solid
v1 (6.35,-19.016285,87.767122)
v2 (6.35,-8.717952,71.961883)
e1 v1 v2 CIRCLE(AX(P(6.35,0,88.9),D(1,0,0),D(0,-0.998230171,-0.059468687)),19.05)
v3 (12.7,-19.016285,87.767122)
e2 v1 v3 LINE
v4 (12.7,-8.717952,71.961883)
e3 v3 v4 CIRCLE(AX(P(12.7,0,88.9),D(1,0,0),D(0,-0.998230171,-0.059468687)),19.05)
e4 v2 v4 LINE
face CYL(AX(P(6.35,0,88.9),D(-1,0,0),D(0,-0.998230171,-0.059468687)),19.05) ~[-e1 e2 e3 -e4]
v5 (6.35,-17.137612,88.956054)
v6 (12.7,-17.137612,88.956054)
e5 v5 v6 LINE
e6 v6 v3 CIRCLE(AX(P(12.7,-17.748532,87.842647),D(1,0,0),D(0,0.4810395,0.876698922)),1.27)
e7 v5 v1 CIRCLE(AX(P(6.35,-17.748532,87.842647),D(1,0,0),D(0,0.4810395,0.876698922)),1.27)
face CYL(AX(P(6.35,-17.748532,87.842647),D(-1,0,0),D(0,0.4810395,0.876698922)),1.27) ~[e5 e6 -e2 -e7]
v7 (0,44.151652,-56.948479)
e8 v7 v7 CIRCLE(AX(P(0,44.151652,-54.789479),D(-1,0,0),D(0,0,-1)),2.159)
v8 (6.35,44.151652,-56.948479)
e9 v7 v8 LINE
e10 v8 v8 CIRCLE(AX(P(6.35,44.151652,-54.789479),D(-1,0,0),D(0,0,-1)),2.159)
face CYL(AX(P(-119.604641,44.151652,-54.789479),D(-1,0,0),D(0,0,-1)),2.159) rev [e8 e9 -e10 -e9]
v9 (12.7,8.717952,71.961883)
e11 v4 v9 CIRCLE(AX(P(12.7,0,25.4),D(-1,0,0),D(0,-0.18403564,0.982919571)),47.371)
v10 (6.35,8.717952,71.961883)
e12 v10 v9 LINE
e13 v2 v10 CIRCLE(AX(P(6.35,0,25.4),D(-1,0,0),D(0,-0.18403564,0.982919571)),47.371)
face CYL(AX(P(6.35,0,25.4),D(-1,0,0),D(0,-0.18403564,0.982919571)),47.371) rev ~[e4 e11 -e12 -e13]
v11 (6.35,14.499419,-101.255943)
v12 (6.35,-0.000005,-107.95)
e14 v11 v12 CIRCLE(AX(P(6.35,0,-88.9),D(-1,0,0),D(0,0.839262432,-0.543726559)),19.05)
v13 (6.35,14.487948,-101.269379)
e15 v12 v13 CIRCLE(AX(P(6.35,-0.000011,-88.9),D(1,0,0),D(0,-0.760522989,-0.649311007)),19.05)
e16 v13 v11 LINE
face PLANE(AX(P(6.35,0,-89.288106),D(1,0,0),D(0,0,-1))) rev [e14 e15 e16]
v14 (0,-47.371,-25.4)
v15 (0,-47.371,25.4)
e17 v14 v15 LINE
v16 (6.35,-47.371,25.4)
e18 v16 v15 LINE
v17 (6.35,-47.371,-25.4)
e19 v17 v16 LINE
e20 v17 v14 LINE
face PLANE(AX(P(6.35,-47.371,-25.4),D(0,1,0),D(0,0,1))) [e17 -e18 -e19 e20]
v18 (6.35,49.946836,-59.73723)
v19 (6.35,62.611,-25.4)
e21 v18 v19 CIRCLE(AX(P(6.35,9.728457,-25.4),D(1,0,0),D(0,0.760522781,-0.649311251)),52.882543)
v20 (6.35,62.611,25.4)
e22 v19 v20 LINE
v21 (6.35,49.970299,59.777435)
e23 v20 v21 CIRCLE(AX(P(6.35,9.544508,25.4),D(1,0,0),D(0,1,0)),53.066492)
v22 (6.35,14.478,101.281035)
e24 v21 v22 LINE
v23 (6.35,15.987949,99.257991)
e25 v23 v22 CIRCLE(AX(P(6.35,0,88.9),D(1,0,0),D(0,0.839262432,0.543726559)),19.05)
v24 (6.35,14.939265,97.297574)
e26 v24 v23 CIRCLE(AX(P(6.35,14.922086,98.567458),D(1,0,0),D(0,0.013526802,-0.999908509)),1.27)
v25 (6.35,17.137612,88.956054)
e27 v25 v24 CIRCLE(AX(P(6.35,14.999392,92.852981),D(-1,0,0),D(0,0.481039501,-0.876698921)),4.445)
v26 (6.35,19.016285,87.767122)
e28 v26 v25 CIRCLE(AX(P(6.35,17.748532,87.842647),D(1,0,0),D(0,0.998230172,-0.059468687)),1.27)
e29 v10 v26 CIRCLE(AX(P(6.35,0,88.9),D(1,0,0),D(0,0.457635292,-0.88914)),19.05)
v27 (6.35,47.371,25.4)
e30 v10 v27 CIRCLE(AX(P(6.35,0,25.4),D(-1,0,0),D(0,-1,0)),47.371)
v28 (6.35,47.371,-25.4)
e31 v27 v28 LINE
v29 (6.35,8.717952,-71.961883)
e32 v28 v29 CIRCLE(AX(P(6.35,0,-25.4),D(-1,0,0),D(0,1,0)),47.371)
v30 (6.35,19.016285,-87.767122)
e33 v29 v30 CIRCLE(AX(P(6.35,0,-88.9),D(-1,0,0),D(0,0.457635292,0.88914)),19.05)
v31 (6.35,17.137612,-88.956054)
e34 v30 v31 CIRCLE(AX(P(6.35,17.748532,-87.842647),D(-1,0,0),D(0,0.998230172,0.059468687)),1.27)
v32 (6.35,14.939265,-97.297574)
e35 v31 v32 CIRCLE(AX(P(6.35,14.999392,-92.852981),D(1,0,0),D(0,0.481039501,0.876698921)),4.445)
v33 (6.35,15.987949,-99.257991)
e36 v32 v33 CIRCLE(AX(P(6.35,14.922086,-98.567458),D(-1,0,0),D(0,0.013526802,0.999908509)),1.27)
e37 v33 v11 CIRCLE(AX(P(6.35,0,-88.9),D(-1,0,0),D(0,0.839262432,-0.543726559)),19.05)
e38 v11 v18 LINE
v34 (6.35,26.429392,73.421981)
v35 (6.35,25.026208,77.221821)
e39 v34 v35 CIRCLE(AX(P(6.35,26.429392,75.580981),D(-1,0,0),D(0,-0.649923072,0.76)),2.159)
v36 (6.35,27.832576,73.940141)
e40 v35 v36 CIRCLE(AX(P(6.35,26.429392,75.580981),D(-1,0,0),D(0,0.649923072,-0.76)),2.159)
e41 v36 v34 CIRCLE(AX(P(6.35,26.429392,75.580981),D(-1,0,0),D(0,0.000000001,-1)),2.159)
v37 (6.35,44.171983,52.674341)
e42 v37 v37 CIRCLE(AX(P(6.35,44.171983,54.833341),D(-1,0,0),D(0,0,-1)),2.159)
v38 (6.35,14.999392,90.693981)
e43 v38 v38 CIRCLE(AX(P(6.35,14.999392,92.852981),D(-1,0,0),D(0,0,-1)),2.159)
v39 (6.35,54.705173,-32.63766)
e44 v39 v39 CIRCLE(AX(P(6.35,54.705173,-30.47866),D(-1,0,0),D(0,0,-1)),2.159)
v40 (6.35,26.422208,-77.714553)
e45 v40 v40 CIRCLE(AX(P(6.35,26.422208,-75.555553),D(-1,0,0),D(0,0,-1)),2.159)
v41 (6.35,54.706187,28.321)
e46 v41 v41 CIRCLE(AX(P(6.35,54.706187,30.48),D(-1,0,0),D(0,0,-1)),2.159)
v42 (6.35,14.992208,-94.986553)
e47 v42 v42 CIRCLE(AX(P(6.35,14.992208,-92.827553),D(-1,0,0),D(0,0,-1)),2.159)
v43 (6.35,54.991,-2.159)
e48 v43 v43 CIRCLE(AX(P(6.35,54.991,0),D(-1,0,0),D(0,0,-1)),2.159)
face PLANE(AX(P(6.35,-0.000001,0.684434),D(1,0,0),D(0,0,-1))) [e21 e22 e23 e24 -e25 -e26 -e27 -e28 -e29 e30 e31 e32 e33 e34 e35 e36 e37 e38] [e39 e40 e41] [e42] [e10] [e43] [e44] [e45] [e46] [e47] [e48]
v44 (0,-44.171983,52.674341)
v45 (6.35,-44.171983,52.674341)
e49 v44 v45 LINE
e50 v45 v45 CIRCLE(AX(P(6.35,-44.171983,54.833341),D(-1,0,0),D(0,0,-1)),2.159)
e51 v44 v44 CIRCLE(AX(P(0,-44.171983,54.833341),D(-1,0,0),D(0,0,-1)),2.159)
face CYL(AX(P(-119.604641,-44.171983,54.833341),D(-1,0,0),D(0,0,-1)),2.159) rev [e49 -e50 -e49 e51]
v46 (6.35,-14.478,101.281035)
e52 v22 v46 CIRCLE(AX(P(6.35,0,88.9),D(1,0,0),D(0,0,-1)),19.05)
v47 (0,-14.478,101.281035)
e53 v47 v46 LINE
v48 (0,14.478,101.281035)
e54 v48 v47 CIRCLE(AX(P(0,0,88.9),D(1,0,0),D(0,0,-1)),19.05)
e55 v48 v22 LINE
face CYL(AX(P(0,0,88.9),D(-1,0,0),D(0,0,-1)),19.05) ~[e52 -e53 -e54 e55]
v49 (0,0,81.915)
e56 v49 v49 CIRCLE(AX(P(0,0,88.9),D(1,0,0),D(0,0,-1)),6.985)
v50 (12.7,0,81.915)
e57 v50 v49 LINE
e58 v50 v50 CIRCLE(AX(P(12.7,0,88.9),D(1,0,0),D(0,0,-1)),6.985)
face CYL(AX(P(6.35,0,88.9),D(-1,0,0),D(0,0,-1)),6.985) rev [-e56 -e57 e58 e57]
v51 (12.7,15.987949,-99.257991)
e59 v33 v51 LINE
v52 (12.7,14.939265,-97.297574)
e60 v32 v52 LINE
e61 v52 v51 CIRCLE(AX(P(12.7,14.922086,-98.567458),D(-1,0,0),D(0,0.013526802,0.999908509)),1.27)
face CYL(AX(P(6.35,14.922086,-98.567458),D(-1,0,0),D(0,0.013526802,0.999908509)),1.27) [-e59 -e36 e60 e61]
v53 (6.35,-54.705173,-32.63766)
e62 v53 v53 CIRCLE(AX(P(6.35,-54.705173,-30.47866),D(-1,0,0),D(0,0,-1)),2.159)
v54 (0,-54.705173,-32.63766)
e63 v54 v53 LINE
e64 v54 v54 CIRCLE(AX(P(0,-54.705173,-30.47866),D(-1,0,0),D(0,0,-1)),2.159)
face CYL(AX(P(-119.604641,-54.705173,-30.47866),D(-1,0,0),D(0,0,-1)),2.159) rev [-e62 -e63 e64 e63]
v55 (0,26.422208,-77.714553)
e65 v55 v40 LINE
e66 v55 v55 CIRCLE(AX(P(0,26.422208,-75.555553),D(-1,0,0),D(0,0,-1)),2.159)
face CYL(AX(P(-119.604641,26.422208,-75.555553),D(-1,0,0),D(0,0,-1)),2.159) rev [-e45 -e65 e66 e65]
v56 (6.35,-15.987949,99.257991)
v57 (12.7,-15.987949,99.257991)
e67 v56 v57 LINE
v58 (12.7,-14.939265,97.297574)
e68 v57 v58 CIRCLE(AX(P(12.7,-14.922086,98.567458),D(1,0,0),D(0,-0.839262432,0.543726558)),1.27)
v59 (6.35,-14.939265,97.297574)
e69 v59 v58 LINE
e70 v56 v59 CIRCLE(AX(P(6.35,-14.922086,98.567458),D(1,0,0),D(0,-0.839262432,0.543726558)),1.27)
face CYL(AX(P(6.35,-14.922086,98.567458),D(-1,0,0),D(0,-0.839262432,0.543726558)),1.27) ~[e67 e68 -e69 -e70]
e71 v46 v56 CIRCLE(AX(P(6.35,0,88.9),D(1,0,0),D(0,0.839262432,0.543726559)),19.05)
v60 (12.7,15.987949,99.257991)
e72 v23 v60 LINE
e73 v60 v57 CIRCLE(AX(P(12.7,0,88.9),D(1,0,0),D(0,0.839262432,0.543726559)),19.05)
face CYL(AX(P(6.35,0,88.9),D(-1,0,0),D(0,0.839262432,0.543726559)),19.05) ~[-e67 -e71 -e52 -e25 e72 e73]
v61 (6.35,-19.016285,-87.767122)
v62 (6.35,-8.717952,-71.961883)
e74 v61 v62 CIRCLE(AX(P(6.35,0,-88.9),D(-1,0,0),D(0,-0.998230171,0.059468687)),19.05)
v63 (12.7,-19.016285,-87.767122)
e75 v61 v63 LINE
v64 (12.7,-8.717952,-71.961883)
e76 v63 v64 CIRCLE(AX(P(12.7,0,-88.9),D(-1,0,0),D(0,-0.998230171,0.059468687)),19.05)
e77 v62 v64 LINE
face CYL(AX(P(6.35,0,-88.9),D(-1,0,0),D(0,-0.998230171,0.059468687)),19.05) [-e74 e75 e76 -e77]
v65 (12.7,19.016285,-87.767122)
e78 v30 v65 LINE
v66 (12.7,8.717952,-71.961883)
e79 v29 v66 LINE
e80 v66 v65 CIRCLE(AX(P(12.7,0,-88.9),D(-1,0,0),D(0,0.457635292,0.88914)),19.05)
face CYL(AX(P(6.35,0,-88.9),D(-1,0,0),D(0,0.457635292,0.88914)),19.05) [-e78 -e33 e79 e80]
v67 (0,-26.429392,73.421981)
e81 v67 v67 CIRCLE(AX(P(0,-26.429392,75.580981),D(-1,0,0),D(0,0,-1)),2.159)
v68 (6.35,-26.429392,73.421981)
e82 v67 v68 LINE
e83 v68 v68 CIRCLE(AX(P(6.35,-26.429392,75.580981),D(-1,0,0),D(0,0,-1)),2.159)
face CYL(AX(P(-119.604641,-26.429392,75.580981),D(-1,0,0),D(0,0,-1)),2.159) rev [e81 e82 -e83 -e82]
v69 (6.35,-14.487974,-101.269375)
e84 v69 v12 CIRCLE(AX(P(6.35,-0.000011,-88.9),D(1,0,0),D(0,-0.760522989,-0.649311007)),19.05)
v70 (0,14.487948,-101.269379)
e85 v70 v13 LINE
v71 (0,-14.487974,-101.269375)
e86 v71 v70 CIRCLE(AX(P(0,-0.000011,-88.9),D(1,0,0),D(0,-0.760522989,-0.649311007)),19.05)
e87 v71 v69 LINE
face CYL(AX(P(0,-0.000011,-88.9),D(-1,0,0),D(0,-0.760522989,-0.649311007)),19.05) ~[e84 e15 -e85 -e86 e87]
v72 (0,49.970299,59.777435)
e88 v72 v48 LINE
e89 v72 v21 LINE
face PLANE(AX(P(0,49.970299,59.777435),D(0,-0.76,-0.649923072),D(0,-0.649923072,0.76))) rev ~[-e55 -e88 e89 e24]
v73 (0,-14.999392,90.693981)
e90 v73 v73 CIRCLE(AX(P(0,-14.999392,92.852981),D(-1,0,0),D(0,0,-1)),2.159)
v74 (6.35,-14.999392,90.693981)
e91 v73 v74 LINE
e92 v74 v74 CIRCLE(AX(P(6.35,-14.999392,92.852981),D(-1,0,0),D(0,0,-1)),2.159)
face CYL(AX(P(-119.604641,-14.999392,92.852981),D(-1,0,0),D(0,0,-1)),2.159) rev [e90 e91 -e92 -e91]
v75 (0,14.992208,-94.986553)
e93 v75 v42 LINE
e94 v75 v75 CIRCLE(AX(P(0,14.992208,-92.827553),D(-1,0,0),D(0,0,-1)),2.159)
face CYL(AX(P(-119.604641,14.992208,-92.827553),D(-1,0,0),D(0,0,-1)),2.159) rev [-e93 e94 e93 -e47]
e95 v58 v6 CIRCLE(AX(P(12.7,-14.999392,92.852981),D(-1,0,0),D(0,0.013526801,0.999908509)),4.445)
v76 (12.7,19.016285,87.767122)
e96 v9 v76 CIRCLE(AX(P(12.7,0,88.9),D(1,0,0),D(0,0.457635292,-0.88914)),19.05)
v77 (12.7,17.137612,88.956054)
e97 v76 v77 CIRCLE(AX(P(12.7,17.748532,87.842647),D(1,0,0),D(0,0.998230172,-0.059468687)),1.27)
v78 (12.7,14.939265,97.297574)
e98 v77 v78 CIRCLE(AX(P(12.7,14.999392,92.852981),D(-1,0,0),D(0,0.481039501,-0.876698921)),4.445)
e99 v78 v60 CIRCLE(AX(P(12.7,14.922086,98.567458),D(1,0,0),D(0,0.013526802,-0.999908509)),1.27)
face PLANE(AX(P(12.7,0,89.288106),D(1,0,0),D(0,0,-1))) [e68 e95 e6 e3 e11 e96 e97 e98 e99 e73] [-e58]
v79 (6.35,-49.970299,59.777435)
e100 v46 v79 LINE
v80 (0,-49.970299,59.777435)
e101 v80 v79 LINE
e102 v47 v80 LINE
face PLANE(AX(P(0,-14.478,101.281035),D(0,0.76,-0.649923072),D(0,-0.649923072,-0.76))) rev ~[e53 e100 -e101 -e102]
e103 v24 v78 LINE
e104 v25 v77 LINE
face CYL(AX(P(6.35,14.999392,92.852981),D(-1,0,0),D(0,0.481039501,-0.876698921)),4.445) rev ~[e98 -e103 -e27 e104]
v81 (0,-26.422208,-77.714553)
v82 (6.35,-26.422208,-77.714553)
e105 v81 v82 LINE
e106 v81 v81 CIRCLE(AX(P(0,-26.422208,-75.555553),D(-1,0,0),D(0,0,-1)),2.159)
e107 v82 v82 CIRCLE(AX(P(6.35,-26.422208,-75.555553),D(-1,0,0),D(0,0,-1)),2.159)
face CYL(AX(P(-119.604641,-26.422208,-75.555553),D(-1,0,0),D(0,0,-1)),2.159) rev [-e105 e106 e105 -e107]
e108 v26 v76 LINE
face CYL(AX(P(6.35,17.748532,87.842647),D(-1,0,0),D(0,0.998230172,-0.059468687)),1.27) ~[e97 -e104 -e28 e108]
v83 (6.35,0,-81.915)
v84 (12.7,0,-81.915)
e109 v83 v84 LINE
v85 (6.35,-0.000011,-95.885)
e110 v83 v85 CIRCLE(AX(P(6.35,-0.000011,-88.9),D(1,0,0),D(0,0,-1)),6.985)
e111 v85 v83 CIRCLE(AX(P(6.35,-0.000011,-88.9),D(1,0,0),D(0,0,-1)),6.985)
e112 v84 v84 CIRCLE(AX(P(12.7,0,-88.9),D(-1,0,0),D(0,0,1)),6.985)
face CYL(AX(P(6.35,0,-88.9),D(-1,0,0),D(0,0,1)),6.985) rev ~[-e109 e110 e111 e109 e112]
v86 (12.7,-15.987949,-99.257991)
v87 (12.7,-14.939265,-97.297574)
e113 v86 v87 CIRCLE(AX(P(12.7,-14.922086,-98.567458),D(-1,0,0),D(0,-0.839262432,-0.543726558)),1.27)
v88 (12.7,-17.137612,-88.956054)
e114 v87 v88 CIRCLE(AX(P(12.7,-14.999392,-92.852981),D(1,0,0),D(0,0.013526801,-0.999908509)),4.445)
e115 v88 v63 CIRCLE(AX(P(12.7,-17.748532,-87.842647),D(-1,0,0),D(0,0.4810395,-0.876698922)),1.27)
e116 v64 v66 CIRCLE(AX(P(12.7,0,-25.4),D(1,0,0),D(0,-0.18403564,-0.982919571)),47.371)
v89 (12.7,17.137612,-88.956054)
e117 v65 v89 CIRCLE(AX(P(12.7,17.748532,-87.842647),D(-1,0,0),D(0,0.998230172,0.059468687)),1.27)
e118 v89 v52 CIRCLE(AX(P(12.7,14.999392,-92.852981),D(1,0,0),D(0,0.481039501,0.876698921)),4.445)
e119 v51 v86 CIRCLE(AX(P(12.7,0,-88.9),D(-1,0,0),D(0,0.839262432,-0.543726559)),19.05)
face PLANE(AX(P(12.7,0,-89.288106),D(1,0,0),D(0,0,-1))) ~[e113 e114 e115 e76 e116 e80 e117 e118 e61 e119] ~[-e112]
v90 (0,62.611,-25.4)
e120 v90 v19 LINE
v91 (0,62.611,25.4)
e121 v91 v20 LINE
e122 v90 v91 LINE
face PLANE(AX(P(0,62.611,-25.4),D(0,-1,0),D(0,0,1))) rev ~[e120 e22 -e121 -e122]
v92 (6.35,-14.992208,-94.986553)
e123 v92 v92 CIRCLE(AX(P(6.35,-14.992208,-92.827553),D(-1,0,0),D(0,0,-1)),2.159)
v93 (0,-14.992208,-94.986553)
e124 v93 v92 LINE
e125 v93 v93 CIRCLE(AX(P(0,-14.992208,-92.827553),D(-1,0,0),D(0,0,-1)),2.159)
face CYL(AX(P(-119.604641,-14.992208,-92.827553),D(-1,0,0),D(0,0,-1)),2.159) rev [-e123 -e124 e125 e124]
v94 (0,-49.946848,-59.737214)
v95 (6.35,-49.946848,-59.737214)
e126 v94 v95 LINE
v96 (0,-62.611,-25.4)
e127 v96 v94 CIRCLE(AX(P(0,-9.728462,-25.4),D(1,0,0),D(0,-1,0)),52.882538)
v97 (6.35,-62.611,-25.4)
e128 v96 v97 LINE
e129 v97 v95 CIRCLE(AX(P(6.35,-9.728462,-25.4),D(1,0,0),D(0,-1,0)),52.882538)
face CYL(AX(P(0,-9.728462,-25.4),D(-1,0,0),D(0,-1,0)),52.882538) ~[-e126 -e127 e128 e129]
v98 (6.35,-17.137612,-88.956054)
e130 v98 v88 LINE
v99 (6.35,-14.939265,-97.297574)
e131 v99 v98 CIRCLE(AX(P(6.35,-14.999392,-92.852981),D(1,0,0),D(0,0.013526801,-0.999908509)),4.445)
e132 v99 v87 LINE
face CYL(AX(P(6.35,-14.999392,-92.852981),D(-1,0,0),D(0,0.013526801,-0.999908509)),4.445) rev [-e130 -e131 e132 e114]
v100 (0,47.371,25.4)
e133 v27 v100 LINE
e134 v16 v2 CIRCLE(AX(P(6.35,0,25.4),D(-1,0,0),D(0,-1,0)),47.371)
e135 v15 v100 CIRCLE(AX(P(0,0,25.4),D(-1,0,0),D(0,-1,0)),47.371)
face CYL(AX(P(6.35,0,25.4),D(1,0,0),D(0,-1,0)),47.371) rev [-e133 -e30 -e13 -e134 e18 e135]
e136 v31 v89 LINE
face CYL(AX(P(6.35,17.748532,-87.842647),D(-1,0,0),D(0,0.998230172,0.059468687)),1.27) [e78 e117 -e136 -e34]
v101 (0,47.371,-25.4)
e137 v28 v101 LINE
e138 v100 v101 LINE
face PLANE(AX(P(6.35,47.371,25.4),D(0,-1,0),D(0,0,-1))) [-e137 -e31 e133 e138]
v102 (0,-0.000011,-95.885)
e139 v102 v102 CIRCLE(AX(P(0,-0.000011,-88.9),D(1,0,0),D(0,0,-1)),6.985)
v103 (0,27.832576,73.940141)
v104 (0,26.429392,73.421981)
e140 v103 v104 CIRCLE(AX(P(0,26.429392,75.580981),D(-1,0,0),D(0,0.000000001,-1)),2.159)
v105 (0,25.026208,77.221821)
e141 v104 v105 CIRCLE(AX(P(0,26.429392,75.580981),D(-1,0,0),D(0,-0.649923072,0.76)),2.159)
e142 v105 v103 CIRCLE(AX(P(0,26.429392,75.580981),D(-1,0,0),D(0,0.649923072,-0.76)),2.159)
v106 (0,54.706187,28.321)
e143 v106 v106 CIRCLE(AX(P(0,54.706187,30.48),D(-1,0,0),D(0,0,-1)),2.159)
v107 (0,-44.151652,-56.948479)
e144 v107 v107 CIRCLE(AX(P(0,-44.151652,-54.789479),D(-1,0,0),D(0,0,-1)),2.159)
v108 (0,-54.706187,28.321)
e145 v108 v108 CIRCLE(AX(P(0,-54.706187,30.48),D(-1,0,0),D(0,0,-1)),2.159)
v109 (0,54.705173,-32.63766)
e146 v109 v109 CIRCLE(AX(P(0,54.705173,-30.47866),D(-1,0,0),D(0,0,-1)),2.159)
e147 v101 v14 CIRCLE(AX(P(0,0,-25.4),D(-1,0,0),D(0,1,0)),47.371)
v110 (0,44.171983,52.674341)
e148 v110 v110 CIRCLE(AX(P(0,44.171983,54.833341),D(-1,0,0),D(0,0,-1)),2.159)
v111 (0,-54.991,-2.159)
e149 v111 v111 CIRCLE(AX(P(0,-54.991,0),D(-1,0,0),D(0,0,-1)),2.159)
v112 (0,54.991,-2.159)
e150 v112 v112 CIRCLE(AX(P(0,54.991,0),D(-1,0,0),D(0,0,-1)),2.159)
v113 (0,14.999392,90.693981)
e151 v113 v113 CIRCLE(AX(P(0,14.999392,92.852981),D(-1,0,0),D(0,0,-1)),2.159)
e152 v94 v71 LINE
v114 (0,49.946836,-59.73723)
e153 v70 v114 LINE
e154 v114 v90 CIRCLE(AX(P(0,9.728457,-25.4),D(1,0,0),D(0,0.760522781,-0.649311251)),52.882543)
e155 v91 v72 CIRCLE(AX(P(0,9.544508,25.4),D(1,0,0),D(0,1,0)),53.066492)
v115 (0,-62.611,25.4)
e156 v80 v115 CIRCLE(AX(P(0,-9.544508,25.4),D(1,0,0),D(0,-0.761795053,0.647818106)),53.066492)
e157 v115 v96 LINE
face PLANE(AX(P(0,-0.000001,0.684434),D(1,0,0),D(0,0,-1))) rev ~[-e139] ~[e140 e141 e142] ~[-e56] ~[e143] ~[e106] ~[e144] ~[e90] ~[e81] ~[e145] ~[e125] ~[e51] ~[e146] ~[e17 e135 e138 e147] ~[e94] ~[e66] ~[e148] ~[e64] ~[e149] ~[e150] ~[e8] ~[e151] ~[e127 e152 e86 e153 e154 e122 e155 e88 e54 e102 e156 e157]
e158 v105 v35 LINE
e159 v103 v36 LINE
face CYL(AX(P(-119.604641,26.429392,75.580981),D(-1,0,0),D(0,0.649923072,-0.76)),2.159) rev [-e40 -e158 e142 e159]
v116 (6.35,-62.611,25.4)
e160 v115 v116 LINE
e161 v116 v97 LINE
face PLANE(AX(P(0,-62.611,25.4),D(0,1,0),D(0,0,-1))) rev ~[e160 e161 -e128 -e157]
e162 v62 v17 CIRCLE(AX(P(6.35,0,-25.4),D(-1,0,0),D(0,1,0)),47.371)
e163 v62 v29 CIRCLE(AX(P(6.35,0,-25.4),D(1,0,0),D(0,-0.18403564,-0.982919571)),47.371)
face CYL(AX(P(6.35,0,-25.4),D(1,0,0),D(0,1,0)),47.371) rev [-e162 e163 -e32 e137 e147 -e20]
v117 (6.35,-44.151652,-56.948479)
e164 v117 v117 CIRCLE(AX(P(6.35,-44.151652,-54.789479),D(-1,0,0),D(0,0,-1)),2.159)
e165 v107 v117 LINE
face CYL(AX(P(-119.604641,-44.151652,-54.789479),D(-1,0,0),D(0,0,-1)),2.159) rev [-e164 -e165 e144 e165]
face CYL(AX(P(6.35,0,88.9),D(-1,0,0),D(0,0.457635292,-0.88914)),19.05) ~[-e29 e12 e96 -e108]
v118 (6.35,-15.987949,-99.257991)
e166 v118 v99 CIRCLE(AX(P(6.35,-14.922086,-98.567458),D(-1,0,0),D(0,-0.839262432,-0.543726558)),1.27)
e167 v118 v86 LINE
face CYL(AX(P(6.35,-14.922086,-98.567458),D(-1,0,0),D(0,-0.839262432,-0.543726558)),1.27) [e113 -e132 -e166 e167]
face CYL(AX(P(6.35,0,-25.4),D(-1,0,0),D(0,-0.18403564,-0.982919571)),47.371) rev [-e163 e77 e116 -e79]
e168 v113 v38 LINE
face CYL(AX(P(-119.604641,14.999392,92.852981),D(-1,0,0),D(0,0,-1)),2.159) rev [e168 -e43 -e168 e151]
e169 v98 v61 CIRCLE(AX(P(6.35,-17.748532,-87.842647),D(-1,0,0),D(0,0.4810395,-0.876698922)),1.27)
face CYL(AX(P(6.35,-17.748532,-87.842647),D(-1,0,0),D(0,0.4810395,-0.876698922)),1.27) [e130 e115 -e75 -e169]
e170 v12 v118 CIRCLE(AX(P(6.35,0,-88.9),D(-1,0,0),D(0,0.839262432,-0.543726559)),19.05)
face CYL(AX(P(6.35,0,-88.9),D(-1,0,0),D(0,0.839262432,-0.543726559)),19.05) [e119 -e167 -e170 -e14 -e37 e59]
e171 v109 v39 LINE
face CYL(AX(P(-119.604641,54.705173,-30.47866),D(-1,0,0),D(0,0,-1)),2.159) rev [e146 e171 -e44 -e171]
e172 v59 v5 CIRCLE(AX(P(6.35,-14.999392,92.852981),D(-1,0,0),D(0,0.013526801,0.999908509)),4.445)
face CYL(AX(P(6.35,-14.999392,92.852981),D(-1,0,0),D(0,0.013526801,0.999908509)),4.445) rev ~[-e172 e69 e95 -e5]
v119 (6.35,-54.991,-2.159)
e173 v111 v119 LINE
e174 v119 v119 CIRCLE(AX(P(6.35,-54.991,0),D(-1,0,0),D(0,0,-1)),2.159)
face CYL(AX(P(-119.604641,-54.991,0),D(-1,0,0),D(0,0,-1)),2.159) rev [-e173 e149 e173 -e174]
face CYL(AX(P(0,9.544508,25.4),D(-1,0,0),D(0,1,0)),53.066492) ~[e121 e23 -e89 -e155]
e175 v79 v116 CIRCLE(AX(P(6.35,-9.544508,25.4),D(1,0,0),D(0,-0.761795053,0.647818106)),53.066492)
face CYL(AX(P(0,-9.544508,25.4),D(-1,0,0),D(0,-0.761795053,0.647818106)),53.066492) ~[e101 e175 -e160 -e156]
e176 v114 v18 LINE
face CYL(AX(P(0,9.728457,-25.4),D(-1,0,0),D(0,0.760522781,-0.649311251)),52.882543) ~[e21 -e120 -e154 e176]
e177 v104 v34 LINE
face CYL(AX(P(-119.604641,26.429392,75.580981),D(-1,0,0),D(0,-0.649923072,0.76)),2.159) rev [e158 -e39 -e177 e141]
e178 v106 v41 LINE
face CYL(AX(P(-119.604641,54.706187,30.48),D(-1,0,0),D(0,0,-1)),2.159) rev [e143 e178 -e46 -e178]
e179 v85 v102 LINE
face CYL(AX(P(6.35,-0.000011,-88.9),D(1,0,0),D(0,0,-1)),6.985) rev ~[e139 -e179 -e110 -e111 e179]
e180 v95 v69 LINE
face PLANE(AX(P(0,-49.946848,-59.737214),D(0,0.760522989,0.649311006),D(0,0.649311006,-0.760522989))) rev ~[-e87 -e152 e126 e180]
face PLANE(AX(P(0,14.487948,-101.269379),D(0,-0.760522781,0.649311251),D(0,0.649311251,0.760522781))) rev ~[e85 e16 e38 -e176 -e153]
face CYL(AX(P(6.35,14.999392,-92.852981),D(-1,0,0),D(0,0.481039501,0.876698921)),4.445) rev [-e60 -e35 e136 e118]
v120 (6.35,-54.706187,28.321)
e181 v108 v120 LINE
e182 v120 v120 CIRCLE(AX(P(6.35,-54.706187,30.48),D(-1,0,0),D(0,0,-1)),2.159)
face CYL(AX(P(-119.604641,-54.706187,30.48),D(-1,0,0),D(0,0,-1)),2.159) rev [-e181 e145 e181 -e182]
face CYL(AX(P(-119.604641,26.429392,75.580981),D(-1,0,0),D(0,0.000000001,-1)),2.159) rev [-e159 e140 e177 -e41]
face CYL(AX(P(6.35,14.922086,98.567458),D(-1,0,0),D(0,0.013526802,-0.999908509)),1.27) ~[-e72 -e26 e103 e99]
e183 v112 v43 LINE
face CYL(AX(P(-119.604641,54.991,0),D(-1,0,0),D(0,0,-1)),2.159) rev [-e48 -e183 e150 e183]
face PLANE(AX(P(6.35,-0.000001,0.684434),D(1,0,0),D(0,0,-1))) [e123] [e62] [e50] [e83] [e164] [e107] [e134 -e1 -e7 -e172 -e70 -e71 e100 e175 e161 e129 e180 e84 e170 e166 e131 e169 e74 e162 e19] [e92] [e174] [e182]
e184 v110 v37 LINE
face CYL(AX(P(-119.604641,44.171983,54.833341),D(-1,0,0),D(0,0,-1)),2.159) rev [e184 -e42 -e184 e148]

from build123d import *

# Parameters (mm, degrees)
SKETCH1_R               = 19.05
BOSS_EXTRUDE1_DEPTH     = 6.35
SKETCH3_R               = 6.985
CUT_EXTRUDE2_DEPTH      = 6.35
CUT_EXTRUDE1_DEPTH      = 6.35
CUT_EXTRUDE3_DEPTH      = 125.954641054
CUT_EXTRUDE3_DEPTH_BACK = 125.954641054
SKETCH4_R               = 2.159
SKETCH6_R               = 6.985
BOSS_EXTRUDE2_DEPTH     = 6.35


with BuildPart() as part:
    # Sketch1 → Boss-Extrude1 (new body)
    with BuildSketch(Plane(origin=(0, 0, 0), x_dir=(0, 0, -1), z_dir=(1, 0, 0))):
        with BuildLine():
            Line((25.4, 62.611), (-25.4, 62.611))
            ThreePointArc((-25.4, 62.611), (-43.71389723, 59.350669702), (-59.777434529, 49.970298982))
            Line((-59.777434529, 49.970298982), (-101.281034529, 14.478))
            ThreePointArc((-101.281034529, 14.478), (-80.929937509, 17.302618411), (-69.85, 0))
            ThreePointArc((-69.85, 0), (-80.929937509, -17.302618411), (-101.281034529, -14.478))
            Line((-101.281034529, -14.478), (-59.777434529, -49.970298982))
            ThreePointArc((-59.777434529, -49.970298982), (-43.71389723, -59.350669702), (-25.4, -62.611))
            Line((-25.4, -62.611), (25.4, -62.611))
            ThreePointArc((25.4, -62.611), (43.699078076, -59.34404997), (59.737214243, -49.946847768))
            Line((59.737214243, -49.946847768), (101.269374674, -14.487973703))
            ThreePointArc((101.269374674, -14.487973703), (69.85, -7.706e-06), (101.269379322, 14.48794821))
            Line((101.269379322, 14.48794821), (59.737230268, 49.9468356))
            ThreePointArc((59.737230268, 49.9468356), (43.699087699, 59.344046737), (25.4, 62.611))
        make_face()
        with Locations((88.9, -1.0762e-05)):
            Circle(SKETCH1_R)
        with Locations((-88.9, 0)):
            Circle(SKETCH1_R)
    extrude(amount=BOSS_EXTRUDE1_DEPTH)

    # Sketch3 → Cut-Extrude2 (cut)
    with BuildSketch(Plane(origin=(6.35, 0, 0), x_dir=(0, 0, -1), z_dir=(1, 0, 0))):
        with Locations((-88.9, 0)):
            Circle(SKETCH3_R)
        with Locations((88.9, -1.0762e-05)):
            Circle(SKETCH3_R)
    extrude(amount=-CUT_EXTRUDE2_DEPTH, mode=Mode.SUBTRACT)

    # Sketch2 → Cut-Extrude1 (cut)
    with BuildSketch(Plane(origin=(6.35, 0, 0), x_dir=(0, 0, -1), z_dir=(1, 0, 0))):
        with BuildLine():
            Line((-25.4, 47.371), (25.4, 47.371))
            ThreePointArc((25.4, 47.371), (72.771, 0), (25.4, -47.371))
            Line((25.4, -47.371), (-25.4, -47.371))
            ThreePointArc((-25.4, -47.371), (-72.771, 0), (-25.4, 47.371))
        make_face()
    extrude(amount=-CUT_EXTRUDE1_DEPTH, mode=Mode.SUBTRACT)

    # Sketch4 → Cut-Extrude3 (cut, two sides: drawn at the far end of the back side and taken through both)
    with BuildSketch(Plane(origin=(6.35, 0, 0), x_dir=(0, 0, -1), z_dir=(1, 0, 0)).offset(-CUT_EXTRUDE3_DEPTH_BACK)):
        with BuildLine():
            ThreePointArc((-73.940141084, 27.832575617), (-76.984164998, 28.070231704), (-77.221821084, 25.02620779))
            Line((-77.221821084, 25.02620779), (-73.940141084, 27.832575617))
        make_face()
        with BuildLine():
            Line((-73.940141084, 27.832575617), (-77.221821084, 25.02620779))
            ThreePointArc((-77.221821084, 25.02620779), (-74.833081546, 24.404070178), (-73.421981084, 26.429391704))
            ThreePointArc((-73.421981084, 26.429391704), (-73.555659559, 27.177291242), (-73.940141084, 27.832575617))
        make_face()
        with Locations((-54.833341451, 44.171983407)):
            Circle(SKETCH4_R)
        with Locations((-30.48, 54.706186836)):
            Circle(SKETCH4_R)
        with Locations((0, 54.991)):
            Circle(SKETCH4_R)
        with Locations((30.478659799, 54.70517335)):
            Circle(SKETCH4_R)
        with Locations((54.789478539, 44.151652011)):
            Circle(SKETCH4_R)
        with Locations((75.555553066, 26.422208316)):
            Circle(SKETCH4_R)
        with Locations((92.827553066, 14.992208316)):
            Circle(SKETCH4_R)
        with Locations((92.827553066, -14.992208316)):
            Circle(SKETCH4_R)
        with Locations((75.555553066, -26.422208316)):
            Circle(SKETCH4_R)
        with Locations((54.789478539, -44.151652011)):
            Circle(SKETCH4_R)
        with Locations((30.478659799, -54.70517335)):
            Circle(SKETCH4_R)
        with Locations((0, -54.991)):
            Circle(SKETCH4_R)
        with Locations((-30.48, -54.706186836)):
            Circle(SKETCH4_R)
        with Locations((-54.833341451, -44.171983407)):
            Circle(SKETCH4_R)
        with Locations((-75.580981084, -26.429391704)):
            Circle(SKETCH4_R)
        with Locations((-92.852981084, 14.999391704)):
            Circle(SKETCH4_R)
        with Locations((-92.852981084, -14.999391704)):
            Circle(SKETCH4_R)
    extrude(amount=CUT_EXTRUDE3_DEPTH + CUT_EXTRUDE3_DEPTH_BACK, mode=Mode.SUBTRACT)

    # Sketch6 → Boss-Extrude2 (add)
    with BuildSketch(Plane(origin=(6.35, 0, 0), x_dir=(0, 0, -1), z_dir=(1, 0, 0))):
        with BuildLine():
            ThreePointArc((-71.961883, 8.717952311), (-78.500282105, 15.960838565), (-87.767121516, 19.016284767))
            ThreePointArc((-87.767121516, 19.016284767), (-88.915797503, 18.427684462), (-88.956054378, 17.137612284))
            ThreePointArc((-88.956054378, 17.137612284), (-91.72021134, 10.701152796), (-97.297574405, 14.939265075))
            ThreePointArc((-97.297574405, 14.939265075), (-97.968420164, 16.041931303), (-99.257990941, 15.987949327))
            ThreePointArc((-99.257990941, 15.987949327), (-107.95, 0), (-99.257990941, -15.987949327))
            ThreePointArc((-99.257990941, -15.987949327), (-97.968420164, -16.041931303), (-97.297574405, -14.939265075))
            ThreePointArc((-97.297574405, -14.939265075), (-91.72021134, -10.701152796), (-88.956054378, -17.137612284))
            ThreePointArc((-88.956054378, -17.137612284), (-88.915797503, -18.427684462), (-87.767121516, -19.016284767))
            ThreePointArc((-87.767121516, -19.016284767), (-78.500282105, -15.960838565), (-71.961883, -8.717952311))
            ThreePointArc((-71.961883, -8.717952311), (-72.771, 0), (-71.961883, 8.717952311))
        make_face()
        with Locations((-88.9, 0)):
            Circle(SKETCH6_R, mode=Mode.SUBTRACT)
    boss_extrude2 = extrude(amount=BOSS_EXTRUDE2_DEPTH)

    # Mirror1: Boss-Extrude2 across plane
    add(boss_extrude2.mirror(Plane.XY))


solid = part.part
